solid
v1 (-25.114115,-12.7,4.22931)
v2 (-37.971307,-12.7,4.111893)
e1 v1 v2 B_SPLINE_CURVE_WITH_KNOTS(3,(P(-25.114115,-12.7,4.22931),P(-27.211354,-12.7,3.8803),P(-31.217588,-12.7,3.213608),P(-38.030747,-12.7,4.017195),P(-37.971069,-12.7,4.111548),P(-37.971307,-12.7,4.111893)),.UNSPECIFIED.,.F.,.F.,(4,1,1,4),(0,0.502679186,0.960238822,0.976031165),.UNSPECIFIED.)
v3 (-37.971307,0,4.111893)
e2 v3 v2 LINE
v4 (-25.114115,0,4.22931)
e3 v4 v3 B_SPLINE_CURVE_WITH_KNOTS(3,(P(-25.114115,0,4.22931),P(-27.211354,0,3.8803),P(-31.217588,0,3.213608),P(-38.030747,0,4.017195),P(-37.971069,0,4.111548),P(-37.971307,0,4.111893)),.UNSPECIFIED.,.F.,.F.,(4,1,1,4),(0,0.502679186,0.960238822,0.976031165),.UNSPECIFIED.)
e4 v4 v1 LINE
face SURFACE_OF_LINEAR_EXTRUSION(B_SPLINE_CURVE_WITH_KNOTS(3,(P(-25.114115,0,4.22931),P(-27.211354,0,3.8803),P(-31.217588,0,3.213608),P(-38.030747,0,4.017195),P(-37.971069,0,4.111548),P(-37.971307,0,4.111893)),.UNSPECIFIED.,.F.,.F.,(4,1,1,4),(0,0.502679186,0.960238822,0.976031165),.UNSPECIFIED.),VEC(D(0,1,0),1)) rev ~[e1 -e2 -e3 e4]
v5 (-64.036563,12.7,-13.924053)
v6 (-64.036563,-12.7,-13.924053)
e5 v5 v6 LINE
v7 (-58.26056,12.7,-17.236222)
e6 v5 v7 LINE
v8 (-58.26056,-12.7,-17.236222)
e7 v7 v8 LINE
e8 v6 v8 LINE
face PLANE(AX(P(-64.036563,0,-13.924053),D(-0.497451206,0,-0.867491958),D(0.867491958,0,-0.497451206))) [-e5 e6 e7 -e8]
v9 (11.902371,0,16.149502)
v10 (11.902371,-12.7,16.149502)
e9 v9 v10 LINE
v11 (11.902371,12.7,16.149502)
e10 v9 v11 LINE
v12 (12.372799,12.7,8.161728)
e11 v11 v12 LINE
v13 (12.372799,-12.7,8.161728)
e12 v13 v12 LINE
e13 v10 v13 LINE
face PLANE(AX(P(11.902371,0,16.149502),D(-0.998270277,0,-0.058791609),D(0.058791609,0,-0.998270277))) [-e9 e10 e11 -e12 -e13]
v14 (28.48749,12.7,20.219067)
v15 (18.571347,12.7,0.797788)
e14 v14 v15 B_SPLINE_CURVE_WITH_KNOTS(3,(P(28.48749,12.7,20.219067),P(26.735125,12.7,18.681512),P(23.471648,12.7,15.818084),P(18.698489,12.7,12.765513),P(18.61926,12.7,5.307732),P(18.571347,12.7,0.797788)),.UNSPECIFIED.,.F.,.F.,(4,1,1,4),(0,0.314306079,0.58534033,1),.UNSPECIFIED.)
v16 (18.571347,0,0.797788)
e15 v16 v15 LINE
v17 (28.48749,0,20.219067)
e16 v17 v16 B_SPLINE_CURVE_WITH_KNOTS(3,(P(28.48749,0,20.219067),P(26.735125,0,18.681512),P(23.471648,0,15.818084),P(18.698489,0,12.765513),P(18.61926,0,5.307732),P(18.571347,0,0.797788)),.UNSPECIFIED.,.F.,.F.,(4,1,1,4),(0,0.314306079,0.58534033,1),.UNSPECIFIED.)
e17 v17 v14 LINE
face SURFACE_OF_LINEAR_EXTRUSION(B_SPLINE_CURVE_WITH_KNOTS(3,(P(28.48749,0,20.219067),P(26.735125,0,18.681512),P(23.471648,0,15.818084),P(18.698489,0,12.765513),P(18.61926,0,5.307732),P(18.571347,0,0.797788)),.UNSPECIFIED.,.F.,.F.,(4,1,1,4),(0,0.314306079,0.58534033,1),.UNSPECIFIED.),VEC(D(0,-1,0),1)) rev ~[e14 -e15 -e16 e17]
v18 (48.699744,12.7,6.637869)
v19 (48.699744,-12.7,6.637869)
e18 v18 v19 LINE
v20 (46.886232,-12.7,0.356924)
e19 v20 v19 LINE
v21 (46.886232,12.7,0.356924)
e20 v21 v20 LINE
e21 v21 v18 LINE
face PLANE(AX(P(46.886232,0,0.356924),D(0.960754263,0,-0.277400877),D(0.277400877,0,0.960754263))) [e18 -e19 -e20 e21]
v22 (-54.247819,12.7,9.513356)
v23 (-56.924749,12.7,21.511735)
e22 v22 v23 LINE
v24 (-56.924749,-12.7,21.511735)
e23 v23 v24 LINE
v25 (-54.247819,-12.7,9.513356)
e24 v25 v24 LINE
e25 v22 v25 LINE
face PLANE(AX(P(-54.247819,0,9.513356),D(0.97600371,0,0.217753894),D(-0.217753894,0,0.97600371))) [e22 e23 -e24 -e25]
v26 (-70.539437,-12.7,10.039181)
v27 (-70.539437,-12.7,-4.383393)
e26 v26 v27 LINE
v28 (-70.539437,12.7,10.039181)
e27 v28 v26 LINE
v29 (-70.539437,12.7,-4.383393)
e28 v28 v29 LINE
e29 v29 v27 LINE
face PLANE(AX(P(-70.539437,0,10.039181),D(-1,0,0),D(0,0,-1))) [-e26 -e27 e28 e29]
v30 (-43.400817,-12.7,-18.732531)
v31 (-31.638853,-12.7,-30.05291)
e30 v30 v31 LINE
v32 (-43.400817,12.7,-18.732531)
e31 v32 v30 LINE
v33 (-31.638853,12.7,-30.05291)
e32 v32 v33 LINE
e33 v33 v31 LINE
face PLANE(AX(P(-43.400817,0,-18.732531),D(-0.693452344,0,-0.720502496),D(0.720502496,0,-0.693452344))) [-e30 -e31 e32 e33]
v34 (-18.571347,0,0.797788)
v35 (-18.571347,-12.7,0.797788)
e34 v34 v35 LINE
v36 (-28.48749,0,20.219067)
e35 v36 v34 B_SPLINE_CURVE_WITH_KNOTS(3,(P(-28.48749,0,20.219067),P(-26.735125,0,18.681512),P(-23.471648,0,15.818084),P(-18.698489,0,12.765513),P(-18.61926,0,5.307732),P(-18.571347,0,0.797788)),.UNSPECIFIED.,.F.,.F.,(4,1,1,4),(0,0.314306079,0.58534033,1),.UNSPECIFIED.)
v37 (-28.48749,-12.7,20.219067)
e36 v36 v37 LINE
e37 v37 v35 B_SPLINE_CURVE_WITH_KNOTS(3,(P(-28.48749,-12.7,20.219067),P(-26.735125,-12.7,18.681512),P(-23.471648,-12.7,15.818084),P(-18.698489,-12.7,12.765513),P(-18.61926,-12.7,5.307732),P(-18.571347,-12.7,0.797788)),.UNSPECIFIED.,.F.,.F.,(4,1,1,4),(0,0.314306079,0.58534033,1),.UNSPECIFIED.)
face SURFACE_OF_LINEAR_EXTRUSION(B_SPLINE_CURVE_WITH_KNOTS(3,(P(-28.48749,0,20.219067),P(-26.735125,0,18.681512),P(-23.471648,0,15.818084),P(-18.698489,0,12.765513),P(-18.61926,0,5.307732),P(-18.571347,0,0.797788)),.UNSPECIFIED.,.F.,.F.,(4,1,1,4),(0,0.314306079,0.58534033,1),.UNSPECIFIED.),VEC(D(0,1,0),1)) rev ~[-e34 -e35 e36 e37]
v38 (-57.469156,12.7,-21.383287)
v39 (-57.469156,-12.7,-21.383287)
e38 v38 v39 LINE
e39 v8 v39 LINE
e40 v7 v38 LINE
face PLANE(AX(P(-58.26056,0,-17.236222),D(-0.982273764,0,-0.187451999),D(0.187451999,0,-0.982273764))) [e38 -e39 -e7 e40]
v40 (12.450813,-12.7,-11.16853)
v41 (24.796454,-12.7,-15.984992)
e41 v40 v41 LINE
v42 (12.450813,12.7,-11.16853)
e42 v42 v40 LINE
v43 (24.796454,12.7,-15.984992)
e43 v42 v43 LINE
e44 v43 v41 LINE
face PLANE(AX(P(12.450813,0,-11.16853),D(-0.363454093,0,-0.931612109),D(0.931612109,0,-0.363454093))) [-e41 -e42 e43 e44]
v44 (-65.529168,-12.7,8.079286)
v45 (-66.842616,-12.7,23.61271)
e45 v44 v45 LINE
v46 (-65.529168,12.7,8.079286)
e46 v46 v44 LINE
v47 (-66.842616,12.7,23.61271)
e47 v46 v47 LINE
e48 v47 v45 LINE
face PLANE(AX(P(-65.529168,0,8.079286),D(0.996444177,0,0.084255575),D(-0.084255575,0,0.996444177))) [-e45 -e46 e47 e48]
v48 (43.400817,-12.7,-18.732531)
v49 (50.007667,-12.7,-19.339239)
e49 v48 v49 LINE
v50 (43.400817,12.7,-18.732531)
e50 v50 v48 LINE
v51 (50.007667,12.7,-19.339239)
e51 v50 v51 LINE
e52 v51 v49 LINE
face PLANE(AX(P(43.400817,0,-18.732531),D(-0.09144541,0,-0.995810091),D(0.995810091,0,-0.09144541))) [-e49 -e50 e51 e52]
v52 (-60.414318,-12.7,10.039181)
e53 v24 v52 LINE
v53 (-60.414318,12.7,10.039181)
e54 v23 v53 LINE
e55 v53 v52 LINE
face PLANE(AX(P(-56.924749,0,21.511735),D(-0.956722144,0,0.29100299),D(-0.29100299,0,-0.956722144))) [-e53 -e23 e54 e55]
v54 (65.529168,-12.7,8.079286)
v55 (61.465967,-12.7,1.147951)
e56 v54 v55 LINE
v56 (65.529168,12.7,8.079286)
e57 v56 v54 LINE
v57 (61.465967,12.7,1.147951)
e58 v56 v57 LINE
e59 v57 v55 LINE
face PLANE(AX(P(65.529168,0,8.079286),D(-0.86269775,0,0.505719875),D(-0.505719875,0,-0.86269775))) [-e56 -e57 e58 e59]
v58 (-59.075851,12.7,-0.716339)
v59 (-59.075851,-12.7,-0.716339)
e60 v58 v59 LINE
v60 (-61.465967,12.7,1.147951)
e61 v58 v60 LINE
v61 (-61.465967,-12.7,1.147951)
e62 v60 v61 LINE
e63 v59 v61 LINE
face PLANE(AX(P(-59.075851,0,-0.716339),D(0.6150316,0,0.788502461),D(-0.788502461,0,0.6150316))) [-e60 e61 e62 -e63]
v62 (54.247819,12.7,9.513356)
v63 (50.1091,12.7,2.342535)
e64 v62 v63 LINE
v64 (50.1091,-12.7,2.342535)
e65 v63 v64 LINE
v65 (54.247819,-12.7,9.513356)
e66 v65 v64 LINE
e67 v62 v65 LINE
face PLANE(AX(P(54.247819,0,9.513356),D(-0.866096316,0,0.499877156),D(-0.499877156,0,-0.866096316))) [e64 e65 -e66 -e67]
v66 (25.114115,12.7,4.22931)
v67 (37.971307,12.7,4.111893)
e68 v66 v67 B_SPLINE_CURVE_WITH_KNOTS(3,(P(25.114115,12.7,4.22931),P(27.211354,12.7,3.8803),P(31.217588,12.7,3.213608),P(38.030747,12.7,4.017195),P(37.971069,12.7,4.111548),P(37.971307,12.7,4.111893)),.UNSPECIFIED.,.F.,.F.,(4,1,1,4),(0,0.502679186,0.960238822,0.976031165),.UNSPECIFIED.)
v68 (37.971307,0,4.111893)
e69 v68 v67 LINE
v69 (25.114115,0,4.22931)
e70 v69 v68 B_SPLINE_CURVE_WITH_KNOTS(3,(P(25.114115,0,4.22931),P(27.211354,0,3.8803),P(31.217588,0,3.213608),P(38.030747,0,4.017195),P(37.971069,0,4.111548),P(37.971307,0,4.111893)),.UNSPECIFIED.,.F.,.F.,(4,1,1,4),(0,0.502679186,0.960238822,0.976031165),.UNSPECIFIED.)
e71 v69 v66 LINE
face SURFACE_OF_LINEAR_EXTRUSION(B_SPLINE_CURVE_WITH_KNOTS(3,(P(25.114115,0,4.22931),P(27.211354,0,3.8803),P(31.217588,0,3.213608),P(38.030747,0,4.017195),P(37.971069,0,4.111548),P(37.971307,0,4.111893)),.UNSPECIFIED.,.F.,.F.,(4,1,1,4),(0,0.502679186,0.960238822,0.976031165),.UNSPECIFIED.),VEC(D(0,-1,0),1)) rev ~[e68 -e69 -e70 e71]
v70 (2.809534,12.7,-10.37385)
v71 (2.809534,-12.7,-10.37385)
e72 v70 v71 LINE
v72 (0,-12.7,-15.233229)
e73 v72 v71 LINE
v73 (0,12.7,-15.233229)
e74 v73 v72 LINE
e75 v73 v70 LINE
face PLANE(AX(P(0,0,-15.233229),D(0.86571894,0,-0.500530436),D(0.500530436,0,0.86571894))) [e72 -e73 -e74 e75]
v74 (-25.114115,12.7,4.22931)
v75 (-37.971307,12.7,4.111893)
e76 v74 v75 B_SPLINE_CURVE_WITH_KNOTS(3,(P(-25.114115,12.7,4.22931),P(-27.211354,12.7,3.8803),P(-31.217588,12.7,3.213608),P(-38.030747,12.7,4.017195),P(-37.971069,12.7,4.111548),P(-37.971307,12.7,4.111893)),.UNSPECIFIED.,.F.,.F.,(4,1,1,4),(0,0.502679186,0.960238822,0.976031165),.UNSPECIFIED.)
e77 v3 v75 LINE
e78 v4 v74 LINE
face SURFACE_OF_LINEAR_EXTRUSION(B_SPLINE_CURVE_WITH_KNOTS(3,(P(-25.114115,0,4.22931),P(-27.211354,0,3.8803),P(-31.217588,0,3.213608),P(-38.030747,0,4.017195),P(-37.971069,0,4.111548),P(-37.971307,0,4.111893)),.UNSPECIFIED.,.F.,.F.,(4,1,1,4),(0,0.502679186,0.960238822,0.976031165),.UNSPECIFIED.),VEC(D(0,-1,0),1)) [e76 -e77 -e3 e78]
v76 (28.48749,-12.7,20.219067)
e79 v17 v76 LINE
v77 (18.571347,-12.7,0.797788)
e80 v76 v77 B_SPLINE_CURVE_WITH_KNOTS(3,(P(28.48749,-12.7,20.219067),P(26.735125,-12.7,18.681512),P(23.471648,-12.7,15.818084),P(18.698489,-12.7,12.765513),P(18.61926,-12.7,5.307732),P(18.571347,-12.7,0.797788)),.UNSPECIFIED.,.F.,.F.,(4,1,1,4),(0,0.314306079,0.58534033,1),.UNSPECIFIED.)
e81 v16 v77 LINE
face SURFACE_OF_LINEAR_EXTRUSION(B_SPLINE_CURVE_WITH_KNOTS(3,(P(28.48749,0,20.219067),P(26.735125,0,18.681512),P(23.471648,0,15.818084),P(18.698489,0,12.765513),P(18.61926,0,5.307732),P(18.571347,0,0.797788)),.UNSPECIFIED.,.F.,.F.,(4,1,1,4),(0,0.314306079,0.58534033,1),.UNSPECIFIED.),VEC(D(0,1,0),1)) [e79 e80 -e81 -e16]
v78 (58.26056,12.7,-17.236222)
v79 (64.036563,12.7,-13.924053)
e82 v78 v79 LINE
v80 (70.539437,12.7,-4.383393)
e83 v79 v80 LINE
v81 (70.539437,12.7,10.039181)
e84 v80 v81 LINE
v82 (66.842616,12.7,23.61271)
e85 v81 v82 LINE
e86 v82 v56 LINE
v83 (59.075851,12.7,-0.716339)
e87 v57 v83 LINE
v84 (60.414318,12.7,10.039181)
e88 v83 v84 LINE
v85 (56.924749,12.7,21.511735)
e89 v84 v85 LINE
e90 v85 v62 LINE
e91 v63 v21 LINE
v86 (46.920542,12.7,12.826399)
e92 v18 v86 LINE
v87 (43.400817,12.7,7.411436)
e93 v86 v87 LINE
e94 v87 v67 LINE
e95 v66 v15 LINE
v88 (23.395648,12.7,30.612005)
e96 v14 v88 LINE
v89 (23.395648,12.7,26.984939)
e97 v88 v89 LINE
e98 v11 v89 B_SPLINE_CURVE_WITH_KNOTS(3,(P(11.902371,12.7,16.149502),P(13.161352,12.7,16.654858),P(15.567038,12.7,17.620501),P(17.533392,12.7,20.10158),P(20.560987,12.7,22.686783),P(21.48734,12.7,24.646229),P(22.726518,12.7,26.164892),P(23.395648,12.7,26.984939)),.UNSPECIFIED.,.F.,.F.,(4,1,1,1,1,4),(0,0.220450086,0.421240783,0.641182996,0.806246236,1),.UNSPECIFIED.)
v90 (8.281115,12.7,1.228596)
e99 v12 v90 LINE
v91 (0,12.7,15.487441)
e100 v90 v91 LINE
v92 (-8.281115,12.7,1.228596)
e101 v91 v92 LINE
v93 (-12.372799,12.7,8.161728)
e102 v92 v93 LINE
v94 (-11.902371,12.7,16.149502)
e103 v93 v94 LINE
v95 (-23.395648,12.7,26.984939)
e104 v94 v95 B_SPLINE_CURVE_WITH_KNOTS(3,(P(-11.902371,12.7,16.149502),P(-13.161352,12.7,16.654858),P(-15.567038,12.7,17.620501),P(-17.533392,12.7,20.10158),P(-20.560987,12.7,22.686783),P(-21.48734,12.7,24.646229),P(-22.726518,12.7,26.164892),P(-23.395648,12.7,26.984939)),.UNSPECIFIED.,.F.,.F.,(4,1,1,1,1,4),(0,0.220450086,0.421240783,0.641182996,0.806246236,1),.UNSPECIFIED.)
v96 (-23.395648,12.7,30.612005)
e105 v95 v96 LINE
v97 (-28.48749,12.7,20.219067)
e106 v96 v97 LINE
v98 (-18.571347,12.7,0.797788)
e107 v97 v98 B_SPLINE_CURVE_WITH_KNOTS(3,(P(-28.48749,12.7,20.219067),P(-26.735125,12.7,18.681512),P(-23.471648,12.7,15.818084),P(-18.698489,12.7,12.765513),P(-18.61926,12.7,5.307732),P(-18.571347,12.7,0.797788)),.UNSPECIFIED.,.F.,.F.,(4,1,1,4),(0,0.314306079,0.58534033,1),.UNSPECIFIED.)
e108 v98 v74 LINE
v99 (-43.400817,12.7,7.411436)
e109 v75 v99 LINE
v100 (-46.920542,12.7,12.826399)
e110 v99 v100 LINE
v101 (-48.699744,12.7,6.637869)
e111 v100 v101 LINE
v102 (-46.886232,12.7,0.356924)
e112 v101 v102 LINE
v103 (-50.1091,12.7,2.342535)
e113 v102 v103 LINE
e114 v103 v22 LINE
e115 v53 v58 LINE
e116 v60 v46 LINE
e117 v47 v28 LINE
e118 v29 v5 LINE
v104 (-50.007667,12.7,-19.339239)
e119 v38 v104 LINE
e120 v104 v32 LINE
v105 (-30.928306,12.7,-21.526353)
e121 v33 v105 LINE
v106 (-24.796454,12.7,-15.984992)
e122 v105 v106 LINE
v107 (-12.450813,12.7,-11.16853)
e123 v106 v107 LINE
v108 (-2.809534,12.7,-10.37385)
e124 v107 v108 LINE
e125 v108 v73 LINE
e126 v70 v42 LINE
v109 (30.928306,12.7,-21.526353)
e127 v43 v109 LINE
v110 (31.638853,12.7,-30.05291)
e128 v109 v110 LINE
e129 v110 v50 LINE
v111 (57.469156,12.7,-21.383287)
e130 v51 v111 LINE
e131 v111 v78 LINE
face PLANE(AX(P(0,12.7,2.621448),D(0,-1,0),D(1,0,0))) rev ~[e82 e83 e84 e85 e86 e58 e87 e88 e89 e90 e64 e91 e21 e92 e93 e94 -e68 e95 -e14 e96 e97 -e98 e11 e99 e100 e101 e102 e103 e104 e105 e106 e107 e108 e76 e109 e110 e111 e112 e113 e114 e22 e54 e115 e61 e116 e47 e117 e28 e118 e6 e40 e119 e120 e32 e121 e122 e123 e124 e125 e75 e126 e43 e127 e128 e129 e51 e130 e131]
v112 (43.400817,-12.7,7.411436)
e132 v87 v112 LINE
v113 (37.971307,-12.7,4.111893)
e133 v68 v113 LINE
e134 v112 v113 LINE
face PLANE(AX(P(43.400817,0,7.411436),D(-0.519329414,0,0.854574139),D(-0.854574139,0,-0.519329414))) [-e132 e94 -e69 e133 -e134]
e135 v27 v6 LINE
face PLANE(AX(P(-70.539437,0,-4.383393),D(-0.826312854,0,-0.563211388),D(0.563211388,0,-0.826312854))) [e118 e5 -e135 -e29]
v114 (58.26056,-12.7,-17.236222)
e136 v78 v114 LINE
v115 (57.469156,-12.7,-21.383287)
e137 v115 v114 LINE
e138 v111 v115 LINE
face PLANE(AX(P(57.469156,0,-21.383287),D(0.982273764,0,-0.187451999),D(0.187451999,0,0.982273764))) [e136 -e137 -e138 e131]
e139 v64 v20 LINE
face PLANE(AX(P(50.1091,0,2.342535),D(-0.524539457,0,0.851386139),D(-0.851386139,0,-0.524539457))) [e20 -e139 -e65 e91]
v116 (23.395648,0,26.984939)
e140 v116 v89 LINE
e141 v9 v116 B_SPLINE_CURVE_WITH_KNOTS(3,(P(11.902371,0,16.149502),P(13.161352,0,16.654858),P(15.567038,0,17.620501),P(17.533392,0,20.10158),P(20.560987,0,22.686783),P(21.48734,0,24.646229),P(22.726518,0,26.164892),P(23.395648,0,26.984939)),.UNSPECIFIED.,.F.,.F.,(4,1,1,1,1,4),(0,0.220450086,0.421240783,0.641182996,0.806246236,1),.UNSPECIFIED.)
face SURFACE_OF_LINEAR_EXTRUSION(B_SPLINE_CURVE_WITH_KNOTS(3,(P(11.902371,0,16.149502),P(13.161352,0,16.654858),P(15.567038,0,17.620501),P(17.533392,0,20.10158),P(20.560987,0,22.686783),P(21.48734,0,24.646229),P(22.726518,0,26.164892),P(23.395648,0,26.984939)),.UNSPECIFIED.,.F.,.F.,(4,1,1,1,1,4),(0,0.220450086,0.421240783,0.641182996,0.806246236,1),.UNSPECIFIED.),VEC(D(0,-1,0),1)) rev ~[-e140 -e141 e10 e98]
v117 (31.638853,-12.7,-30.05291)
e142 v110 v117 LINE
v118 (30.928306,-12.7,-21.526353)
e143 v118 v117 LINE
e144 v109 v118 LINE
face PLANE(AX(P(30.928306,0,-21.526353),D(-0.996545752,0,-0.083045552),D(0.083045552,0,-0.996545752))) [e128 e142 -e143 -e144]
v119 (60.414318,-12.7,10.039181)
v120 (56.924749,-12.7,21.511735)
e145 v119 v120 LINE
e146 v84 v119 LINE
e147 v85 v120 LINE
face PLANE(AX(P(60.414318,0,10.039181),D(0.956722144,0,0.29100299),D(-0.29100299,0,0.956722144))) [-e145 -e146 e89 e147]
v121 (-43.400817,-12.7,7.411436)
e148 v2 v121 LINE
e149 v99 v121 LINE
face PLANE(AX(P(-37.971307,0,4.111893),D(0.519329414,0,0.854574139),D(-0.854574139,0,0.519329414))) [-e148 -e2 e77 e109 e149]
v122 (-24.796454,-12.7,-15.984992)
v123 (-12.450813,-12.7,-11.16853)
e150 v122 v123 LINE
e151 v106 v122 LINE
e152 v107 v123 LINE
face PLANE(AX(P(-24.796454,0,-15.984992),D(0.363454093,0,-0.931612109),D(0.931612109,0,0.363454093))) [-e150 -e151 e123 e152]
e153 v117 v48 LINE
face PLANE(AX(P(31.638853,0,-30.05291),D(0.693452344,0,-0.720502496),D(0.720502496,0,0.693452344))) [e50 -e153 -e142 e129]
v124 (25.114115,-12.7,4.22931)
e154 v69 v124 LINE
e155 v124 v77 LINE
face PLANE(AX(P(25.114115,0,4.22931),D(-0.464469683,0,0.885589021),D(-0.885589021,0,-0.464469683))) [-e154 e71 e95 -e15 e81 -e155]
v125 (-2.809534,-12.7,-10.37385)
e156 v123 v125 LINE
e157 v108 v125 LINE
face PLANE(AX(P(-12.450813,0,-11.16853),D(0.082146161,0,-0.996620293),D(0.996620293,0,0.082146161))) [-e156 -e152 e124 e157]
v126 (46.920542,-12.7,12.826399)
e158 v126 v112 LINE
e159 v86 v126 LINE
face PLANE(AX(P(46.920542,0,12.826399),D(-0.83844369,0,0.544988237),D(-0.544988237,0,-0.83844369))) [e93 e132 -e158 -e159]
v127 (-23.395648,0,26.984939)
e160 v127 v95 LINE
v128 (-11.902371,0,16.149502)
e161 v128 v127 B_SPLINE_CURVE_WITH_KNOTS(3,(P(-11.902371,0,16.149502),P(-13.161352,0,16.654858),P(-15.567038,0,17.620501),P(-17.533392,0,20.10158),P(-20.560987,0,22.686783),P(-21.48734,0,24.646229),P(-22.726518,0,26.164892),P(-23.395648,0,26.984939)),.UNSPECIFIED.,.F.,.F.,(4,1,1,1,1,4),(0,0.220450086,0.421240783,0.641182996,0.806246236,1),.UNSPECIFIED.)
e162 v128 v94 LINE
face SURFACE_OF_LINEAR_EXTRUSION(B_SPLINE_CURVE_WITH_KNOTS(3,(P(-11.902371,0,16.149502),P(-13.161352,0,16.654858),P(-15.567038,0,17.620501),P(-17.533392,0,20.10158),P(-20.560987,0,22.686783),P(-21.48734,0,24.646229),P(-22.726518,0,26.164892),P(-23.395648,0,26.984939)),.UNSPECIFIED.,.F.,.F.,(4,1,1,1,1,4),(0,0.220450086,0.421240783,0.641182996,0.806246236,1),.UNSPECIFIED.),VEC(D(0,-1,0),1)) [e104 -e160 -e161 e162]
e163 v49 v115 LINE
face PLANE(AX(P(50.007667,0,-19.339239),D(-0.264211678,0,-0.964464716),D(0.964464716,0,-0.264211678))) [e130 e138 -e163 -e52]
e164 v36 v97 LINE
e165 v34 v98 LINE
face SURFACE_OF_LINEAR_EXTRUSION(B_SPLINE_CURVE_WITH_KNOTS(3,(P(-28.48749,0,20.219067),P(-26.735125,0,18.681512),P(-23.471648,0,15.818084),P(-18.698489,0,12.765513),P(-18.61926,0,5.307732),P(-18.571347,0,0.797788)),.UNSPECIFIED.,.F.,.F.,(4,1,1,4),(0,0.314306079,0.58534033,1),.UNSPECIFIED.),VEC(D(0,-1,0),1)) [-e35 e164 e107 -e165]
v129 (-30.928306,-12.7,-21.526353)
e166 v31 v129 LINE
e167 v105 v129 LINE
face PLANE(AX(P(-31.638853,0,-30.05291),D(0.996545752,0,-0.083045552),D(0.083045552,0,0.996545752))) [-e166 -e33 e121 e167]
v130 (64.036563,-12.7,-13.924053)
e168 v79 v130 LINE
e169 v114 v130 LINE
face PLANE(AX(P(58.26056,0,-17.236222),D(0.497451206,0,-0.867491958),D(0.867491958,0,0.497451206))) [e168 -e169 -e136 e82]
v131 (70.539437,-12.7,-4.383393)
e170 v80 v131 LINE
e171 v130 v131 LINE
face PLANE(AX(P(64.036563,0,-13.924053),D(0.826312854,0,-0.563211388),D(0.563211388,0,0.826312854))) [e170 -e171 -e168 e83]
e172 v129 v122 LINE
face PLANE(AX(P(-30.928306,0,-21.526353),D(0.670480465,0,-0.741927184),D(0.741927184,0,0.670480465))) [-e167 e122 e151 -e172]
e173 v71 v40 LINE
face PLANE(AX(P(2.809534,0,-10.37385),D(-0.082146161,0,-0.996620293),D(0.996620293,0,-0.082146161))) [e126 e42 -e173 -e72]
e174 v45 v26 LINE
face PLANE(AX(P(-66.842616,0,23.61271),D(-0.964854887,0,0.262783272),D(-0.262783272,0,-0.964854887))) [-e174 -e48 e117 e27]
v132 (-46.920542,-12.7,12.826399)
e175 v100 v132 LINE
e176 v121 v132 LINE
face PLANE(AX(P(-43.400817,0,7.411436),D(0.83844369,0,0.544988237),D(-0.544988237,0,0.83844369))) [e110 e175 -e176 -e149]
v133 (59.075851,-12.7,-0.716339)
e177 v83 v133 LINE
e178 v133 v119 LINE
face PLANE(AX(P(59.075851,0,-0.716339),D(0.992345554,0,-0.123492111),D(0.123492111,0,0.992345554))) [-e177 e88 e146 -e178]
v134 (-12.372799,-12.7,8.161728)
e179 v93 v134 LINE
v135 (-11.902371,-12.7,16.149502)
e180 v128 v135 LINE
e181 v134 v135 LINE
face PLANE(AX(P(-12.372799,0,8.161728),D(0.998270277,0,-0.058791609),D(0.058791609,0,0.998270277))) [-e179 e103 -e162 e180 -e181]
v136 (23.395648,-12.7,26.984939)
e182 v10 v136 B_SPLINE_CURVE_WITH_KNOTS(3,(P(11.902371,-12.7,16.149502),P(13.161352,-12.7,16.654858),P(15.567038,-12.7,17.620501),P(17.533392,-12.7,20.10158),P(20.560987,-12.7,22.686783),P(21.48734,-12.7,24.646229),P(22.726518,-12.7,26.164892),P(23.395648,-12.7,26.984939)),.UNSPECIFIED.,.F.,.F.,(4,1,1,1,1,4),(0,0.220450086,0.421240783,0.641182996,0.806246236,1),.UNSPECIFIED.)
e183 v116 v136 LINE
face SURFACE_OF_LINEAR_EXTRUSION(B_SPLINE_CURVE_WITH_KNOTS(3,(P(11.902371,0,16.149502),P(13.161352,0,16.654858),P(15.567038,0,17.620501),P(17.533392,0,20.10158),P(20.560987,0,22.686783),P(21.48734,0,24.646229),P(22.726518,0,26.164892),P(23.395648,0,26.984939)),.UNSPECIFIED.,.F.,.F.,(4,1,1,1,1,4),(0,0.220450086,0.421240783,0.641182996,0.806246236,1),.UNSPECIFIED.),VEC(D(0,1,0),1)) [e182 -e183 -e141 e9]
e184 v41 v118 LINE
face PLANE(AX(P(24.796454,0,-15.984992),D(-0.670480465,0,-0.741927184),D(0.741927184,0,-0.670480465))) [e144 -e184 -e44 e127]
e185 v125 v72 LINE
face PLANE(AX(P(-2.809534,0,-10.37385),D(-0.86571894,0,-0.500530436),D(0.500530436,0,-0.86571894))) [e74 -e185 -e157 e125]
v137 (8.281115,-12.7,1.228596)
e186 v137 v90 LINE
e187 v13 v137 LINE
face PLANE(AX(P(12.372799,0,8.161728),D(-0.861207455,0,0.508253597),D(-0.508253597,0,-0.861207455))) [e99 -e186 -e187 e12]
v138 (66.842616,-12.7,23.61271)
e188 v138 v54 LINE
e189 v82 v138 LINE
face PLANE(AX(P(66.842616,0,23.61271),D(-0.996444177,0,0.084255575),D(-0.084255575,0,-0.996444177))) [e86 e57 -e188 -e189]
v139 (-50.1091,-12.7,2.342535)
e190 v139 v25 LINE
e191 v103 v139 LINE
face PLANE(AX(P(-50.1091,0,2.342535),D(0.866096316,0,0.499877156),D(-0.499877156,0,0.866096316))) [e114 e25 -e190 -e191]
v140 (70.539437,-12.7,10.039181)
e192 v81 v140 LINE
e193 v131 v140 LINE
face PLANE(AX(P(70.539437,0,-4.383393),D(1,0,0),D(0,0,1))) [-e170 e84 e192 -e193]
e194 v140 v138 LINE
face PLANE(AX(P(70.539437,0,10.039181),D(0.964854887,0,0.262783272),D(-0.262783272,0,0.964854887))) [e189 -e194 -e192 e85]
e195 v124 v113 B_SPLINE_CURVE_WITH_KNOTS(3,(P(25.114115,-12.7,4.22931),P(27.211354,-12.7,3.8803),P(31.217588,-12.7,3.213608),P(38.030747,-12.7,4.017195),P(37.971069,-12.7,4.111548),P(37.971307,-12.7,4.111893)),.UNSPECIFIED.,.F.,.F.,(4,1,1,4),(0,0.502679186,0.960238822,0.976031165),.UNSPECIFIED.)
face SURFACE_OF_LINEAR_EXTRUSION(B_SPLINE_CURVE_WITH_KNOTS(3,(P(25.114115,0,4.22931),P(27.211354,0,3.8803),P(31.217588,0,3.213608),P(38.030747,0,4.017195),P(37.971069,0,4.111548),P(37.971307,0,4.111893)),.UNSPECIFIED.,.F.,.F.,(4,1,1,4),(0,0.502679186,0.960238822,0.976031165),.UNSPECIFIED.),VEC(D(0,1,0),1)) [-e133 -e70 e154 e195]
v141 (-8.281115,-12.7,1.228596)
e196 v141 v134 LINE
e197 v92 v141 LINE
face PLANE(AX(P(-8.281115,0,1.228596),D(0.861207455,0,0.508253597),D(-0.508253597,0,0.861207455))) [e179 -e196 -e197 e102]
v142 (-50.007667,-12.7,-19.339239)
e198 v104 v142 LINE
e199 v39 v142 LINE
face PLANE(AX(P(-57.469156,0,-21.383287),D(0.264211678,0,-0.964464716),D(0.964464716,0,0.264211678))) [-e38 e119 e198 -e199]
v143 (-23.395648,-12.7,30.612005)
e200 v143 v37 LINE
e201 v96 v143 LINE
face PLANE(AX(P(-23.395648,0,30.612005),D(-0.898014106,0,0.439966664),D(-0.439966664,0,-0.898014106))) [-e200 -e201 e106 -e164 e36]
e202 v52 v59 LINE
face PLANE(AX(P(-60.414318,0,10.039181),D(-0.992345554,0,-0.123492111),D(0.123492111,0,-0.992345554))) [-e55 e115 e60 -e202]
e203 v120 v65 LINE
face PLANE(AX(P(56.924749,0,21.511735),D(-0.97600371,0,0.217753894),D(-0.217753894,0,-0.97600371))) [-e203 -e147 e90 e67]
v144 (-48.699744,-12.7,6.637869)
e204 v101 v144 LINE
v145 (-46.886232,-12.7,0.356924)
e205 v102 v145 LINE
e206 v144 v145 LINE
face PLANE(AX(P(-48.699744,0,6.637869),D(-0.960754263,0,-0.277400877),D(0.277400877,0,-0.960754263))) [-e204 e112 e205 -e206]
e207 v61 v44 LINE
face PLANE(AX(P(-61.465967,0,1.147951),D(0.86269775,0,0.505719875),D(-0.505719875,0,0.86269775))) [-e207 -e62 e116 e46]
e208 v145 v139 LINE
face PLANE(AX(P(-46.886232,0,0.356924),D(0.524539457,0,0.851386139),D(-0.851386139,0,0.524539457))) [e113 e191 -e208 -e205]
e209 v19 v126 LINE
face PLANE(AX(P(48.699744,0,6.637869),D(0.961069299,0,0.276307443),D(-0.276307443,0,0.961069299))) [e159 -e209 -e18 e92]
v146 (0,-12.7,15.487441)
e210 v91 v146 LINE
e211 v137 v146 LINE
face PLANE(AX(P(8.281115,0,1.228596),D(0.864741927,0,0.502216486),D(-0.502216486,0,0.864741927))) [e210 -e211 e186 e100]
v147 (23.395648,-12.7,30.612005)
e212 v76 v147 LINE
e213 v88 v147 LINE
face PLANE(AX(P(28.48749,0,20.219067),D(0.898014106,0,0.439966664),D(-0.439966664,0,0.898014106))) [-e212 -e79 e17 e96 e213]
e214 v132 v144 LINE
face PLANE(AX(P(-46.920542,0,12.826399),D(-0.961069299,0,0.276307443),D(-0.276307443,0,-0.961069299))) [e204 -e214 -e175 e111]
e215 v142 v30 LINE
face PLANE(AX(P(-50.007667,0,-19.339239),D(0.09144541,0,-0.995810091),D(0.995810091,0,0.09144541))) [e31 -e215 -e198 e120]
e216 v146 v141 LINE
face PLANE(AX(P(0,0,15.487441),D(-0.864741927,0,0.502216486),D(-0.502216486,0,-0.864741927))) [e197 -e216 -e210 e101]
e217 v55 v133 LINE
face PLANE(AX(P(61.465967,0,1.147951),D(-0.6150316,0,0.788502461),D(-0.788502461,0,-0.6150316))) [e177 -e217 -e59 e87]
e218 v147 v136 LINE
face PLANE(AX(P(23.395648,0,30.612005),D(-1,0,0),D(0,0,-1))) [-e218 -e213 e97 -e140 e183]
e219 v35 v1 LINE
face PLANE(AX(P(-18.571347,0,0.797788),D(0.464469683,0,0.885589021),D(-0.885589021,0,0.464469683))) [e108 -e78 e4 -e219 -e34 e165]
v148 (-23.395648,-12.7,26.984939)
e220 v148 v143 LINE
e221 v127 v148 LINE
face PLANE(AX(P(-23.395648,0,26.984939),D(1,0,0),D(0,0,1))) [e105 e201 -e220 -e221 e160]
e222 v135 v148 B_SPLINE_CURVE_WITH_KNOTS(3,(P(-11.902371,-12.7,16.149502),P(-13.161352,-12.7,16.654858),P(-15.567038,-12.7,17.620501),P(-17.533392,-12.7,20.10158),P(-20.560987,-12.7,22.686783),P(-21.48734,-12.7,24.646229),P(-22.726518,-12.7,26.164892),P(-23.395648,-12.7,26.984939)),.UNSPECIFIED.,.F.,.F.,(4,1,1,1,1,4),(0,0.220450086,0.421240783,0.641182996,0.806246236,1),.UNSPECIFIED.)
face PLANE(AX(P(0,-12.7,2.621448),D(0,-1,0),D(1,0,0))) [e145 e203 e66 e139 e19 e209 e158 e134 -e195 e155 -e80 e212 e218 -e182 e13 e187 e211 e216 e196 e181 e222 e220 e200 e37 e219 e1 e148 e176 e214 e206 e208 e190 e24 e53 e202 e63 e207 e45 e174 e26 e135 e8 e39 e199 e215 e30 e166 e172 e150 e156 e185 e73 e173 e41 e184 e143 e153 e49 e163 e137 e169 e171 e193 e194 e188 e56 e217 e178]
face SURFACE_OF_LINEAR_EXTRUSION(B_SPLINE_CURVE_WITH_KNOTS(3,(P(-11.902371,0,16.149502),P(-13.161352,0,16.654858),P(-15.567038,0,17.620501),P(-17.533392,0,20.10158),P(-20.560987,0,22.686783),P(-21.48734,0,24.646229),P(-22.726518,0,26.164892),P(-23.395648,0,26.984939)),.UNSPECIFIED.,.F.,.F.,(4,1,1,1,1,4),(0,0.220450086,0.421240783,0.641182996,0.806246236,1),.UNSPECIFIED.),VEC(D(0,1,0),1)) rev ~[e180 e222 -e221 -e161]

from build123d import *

# Parameters (mm, degrees)
F1_DEPTH = 12.7
F2_DEPTH = 12.7


with BuildPart() as f1:
    # F0 (on Front) → F1 (new body)
    with BuildSketch(Plane.XZ):
        with BuildLine():
            Line((8.2811145112, 1.2285960838), (0, 15.4874408618))
            Line((0, 15.4874408618), (-8.2811145112, 1.2285960838))
            Line((-8.2811145112, 1.2285960838), (-12.3727992177, 8.1617282704))
            Line((-12.3727992177, 8.1617282704), (-11.9023714215, 16.1495022476))
            add(Edge.make_bspline(
                [(-11.9023714215, 16.1495022476), (-13.1613517272, 16.6548575419), (-15.5670384726, 17.6205013473), (-17.5333922375, 20.1015797679), (-20.5609874273, 22.6867834573), (-21.4873396412, 24.6462285212), (-22.7265176962, 26.164892306), (-23.3956482261, 26.9849393517)],
                knots=[0, 0, 0, 0, 0.2204500858, 0.4212407827, 0.6411829959, 0.8062462362, 1, 1, 1, 1], degree=3))
            Line((-23.3956482261, 26.9849393517), (-23.3956482261, 30.6120049208))
            Line((-23.3956482261, 30.6120049208), (-28.4874904901, 20.2190671116))
            add(Edge.make_bspline(
                [(-28.4874904901, 20.2190671116), (-26.7351245713, 18.6815123537), (-23.471648253, 15.8180844094), (-18.698489342, 12.765512723), (-18.619259599, 5.307731901), (-18.5713469982, 0.7977882633)],
                knots=[0, 0, 0, 0, 0.3143060786, 0.5853403295, 1, 1, 1, 1], degree=3))
            Line((-18.5713469982, 0.7977882633), (-25.1141153276, 4.229309503))
            add(Edge.make_bspline(
                [(-25.1141153276, 4.229309503), (-27.2113543103, 3.8803000814), (-31.2175880029, 3.2136076751), (-38.0307467331, 4.0171950636), (-37.9710688228, 4.111548475), (-37.9713065922, 4.1118925437)],
                knots=[0, 0, 0, 0, 0.5026791859, 0.9602388224, 0.9760311652, 0.9760311652, 0.9760311652, 0.9760311652], degree=3))
            Line((-37.9713065922, 4.1118925437), (-43.4008166194, 7.4114357121))
            Line((-43.4008166194, 7.4114357121), (-46.9205416739, 12.8263989463))
            Line((-46.9205416739, 12.8263989463), (-48.6997440457, 6.6378694028))
            Line((-48.6997440457, 6.6378694028), (-46.8862317502, 0.3569243418))
            Line((-46.8862317502, 0.3569243418), (-50.1090995967, 2.34253495))
            Line((-50.1090995967, 2.34253495), (-54.2478188872, 9.5133557916))
            Line((-54.2478188872, 9.5133557916), (-56.9247491658, 21.5117353946))
            Line((-56.9247491658, 21.5117353946), (-60.4143179953, 10.0391805172))
            Line((-60.4143179953, 10.0391805172), (-59.0758509934, -0.716338749))
            Line((-59.0758509934, -0.716338749), (-61.4659674466, 1.1479511159))
            Line((-61.4659674466, 1.1479511159), (-65.5291676521, 8.0792857334))
            Line((-65.5291676521, 8.0792857334), (-66.8426156044, 23.612709716))
            Line((-66.8426156044, 23.612709716), (-70.5394372344, 10.0391805172))
            Line((-70.5394372344, 10.0391805172), (-70.5394372344, -4.383392632))
            Line((-70.5394372344, -4.383392632), (-64.0365630388, -13.9240529388))
            Line((-64.0365630388, -13.9240529388), (-58.2605600357, -17.2362215817))
            Line((-58.2605600357, -17.2362215817), (-57.4691556394, -21.3832873851))
            Line((-57.4691556394, -21.3832873851), (-50.0076673925, -19.3392392248))
            Line((-50.0076673925, -19.3392392248), (-43.4008166194, -18.7325309962))
            Line((-43.4008166194, -18.7325309962), (-31.6388532519, -30.0529096276))
            Line((-31.6388532519, -30.0529096276), (-30.9283062816, -21.5263534337))
            Line((-30.9283062816, -21.5263534337), (-24.7964542359, -15.9849915653))
            Line((-24.7964542359, -15.9849915653), (-12.4508133158, -11.1685302109))
            Line((-12.4508133158, -11.1685302109), (-2.8095340822, -10.3738503531))
            Line((-2.8095340822, -10.3738503531), (0, -15.2332289144))
            Line((0, -15.2332289144), (2.8095340822, -10.3738503531))
            Line((2.8095340822, -10.3738503531), (12.4508133158, -11.1685302109))
            Line((12.4508133158, -11.1685302109), (24.7964542359, -15.9849915653))
            Line((24.7964542359, -15.9849915653), (30.9283062816, -21.5263534337))
            Line((30.9283062816, -21.5263534337), (31.6388532519, -30.0529096276))
            Line((31.6388532519, -30.0529096276), (43.4008166194, -18.7325309962))
            Line((43.4008166194, -18.7325309962), (50.0076673925, -19.3392392248))
            Line((50.0076673925, -19.3392392248), (57.4691556394, -21.3832873851))
            Line((57.4691556394, -21.3832873851), (58.2605600357, -17.2362215817))
            Line((58.2605600357, -17.2362215817), (64.0365630388, -13.9240529388))
            Line((64.0365630388, -13.9240529388), (70.5394372344, -4.383392632))
            Line((70.5394372344, -4.383392632), (70.5394372344, 10.0391805172))
            Line((70.5394372344, 10.0391805172), (66.8426156044, 23.612709716))
            Line((66.8426156044, 23.612709716), (65.5291676521, 8.0792857334))
            Line((65.5291676521, 8.0792857334), (61.4659674466, 1.1479511159))
            Line((61.4659674466, 1.1479511159), (59.0758509934, -0.716338749))
            Line((59.0758509934, -0.716338749), (60.4143179953, 10.0391805172))
            Line((60.4143179953, 10.0391805172), (56.9247491658, 21.5117353946))
            Line((56.9247491658, 21.5117353946), (54.2478188872, 9.5133557916))
            Line((54.2478188872, 9.5133557916), (50.1090995967, 2.34253495))
            Line((50.1090995967, 2.34253495), (46.8862317502, 0.3569243418))
            Line((46.8862317502, 0.3569243418), (48.6997440457, 6.6378694028))
            Line((48.6997440457, 6.6378694028), (46.9205416739, 12.8263989463))
            Line((46.9205416739, 12.8263989463), (43.4008166194, 7.4114357121))
            Line((43.4008166194, 7.4114357121), (37.9713065922, 4.1118925437))
            add(Edge.make_bspline(
                [(25.1141153276, 4.229309503), (27.2113543103, 3.8803000814), (31.2175880029, 3.2136076751), (38.0307467331, 4.0171950636), (37.9710688228, 4.111548475), (37.9713065922, 4.1118925437)],
                knots=[0, 0, 0, 0, 0.5026791859, 0.9602388224, 0.9760311652, 0.9760311652, 0.9760311652, 0.9760311652], degree=3))
            Line((25.1141153276, 4.229309503), (18.5713469982, 0.7977882633))
            add(Edge.make_bspline(
                [(28.4874904901, 20.2190671116), (26.7351245713, 18.6815123537), (23.471648253, 15.8180844094), (18.698489342, 12.765512723), (18.619259599, 5.307731901), (18.5713469982, 0.7977882633)],
                knots=[0, 0, 0, 0, 0.3143060786, 0.5853403295, 1, 1, 1, 1], degree=3))
            Line((28.4874904901, 20.2190671116), (23.3956482261, 30.6120049208))
            Line((23.3956482261, 30.6120049208), (23.3956482261, 26.9849393517))
            add(Edge.make_bspline(
                [(11.9023714215, 16.1495022476), (13.1613517272, 16.6548575419), (15.5670384726, 17.6205013473), (17.5333922375, 20.1015797679), (20.5609874273, 22.6867834573), (21.4873396412, 24.6462285212), (22.7265176962, 26.164892306), (23.3956482261, 26.9849393517)],
                knots=[0, 0, 0, 0, 0.2204500858, 0.4212407827, 0.6411829959, 0.8062462362, 1, 1, 1, 1], degree=3))
            Line((11.9023714215, 16.1495022476), (12.3727992177, 8.1617282704))
            Line((12.3727992177, 8.1617282704), (8.2811145112, 1.2285960838))
        make_face()
    extrude(amount=F1_DEPTH)

    # F2 (add): a face of the model
    f2_faces = [f1.faces().sort_by_distance(p)[0] for p in [
        (0, 0, -2.9396699917),
    ]]
    extrude(f2_faces, amount=F2_DEPTH)


solid = f1.part
